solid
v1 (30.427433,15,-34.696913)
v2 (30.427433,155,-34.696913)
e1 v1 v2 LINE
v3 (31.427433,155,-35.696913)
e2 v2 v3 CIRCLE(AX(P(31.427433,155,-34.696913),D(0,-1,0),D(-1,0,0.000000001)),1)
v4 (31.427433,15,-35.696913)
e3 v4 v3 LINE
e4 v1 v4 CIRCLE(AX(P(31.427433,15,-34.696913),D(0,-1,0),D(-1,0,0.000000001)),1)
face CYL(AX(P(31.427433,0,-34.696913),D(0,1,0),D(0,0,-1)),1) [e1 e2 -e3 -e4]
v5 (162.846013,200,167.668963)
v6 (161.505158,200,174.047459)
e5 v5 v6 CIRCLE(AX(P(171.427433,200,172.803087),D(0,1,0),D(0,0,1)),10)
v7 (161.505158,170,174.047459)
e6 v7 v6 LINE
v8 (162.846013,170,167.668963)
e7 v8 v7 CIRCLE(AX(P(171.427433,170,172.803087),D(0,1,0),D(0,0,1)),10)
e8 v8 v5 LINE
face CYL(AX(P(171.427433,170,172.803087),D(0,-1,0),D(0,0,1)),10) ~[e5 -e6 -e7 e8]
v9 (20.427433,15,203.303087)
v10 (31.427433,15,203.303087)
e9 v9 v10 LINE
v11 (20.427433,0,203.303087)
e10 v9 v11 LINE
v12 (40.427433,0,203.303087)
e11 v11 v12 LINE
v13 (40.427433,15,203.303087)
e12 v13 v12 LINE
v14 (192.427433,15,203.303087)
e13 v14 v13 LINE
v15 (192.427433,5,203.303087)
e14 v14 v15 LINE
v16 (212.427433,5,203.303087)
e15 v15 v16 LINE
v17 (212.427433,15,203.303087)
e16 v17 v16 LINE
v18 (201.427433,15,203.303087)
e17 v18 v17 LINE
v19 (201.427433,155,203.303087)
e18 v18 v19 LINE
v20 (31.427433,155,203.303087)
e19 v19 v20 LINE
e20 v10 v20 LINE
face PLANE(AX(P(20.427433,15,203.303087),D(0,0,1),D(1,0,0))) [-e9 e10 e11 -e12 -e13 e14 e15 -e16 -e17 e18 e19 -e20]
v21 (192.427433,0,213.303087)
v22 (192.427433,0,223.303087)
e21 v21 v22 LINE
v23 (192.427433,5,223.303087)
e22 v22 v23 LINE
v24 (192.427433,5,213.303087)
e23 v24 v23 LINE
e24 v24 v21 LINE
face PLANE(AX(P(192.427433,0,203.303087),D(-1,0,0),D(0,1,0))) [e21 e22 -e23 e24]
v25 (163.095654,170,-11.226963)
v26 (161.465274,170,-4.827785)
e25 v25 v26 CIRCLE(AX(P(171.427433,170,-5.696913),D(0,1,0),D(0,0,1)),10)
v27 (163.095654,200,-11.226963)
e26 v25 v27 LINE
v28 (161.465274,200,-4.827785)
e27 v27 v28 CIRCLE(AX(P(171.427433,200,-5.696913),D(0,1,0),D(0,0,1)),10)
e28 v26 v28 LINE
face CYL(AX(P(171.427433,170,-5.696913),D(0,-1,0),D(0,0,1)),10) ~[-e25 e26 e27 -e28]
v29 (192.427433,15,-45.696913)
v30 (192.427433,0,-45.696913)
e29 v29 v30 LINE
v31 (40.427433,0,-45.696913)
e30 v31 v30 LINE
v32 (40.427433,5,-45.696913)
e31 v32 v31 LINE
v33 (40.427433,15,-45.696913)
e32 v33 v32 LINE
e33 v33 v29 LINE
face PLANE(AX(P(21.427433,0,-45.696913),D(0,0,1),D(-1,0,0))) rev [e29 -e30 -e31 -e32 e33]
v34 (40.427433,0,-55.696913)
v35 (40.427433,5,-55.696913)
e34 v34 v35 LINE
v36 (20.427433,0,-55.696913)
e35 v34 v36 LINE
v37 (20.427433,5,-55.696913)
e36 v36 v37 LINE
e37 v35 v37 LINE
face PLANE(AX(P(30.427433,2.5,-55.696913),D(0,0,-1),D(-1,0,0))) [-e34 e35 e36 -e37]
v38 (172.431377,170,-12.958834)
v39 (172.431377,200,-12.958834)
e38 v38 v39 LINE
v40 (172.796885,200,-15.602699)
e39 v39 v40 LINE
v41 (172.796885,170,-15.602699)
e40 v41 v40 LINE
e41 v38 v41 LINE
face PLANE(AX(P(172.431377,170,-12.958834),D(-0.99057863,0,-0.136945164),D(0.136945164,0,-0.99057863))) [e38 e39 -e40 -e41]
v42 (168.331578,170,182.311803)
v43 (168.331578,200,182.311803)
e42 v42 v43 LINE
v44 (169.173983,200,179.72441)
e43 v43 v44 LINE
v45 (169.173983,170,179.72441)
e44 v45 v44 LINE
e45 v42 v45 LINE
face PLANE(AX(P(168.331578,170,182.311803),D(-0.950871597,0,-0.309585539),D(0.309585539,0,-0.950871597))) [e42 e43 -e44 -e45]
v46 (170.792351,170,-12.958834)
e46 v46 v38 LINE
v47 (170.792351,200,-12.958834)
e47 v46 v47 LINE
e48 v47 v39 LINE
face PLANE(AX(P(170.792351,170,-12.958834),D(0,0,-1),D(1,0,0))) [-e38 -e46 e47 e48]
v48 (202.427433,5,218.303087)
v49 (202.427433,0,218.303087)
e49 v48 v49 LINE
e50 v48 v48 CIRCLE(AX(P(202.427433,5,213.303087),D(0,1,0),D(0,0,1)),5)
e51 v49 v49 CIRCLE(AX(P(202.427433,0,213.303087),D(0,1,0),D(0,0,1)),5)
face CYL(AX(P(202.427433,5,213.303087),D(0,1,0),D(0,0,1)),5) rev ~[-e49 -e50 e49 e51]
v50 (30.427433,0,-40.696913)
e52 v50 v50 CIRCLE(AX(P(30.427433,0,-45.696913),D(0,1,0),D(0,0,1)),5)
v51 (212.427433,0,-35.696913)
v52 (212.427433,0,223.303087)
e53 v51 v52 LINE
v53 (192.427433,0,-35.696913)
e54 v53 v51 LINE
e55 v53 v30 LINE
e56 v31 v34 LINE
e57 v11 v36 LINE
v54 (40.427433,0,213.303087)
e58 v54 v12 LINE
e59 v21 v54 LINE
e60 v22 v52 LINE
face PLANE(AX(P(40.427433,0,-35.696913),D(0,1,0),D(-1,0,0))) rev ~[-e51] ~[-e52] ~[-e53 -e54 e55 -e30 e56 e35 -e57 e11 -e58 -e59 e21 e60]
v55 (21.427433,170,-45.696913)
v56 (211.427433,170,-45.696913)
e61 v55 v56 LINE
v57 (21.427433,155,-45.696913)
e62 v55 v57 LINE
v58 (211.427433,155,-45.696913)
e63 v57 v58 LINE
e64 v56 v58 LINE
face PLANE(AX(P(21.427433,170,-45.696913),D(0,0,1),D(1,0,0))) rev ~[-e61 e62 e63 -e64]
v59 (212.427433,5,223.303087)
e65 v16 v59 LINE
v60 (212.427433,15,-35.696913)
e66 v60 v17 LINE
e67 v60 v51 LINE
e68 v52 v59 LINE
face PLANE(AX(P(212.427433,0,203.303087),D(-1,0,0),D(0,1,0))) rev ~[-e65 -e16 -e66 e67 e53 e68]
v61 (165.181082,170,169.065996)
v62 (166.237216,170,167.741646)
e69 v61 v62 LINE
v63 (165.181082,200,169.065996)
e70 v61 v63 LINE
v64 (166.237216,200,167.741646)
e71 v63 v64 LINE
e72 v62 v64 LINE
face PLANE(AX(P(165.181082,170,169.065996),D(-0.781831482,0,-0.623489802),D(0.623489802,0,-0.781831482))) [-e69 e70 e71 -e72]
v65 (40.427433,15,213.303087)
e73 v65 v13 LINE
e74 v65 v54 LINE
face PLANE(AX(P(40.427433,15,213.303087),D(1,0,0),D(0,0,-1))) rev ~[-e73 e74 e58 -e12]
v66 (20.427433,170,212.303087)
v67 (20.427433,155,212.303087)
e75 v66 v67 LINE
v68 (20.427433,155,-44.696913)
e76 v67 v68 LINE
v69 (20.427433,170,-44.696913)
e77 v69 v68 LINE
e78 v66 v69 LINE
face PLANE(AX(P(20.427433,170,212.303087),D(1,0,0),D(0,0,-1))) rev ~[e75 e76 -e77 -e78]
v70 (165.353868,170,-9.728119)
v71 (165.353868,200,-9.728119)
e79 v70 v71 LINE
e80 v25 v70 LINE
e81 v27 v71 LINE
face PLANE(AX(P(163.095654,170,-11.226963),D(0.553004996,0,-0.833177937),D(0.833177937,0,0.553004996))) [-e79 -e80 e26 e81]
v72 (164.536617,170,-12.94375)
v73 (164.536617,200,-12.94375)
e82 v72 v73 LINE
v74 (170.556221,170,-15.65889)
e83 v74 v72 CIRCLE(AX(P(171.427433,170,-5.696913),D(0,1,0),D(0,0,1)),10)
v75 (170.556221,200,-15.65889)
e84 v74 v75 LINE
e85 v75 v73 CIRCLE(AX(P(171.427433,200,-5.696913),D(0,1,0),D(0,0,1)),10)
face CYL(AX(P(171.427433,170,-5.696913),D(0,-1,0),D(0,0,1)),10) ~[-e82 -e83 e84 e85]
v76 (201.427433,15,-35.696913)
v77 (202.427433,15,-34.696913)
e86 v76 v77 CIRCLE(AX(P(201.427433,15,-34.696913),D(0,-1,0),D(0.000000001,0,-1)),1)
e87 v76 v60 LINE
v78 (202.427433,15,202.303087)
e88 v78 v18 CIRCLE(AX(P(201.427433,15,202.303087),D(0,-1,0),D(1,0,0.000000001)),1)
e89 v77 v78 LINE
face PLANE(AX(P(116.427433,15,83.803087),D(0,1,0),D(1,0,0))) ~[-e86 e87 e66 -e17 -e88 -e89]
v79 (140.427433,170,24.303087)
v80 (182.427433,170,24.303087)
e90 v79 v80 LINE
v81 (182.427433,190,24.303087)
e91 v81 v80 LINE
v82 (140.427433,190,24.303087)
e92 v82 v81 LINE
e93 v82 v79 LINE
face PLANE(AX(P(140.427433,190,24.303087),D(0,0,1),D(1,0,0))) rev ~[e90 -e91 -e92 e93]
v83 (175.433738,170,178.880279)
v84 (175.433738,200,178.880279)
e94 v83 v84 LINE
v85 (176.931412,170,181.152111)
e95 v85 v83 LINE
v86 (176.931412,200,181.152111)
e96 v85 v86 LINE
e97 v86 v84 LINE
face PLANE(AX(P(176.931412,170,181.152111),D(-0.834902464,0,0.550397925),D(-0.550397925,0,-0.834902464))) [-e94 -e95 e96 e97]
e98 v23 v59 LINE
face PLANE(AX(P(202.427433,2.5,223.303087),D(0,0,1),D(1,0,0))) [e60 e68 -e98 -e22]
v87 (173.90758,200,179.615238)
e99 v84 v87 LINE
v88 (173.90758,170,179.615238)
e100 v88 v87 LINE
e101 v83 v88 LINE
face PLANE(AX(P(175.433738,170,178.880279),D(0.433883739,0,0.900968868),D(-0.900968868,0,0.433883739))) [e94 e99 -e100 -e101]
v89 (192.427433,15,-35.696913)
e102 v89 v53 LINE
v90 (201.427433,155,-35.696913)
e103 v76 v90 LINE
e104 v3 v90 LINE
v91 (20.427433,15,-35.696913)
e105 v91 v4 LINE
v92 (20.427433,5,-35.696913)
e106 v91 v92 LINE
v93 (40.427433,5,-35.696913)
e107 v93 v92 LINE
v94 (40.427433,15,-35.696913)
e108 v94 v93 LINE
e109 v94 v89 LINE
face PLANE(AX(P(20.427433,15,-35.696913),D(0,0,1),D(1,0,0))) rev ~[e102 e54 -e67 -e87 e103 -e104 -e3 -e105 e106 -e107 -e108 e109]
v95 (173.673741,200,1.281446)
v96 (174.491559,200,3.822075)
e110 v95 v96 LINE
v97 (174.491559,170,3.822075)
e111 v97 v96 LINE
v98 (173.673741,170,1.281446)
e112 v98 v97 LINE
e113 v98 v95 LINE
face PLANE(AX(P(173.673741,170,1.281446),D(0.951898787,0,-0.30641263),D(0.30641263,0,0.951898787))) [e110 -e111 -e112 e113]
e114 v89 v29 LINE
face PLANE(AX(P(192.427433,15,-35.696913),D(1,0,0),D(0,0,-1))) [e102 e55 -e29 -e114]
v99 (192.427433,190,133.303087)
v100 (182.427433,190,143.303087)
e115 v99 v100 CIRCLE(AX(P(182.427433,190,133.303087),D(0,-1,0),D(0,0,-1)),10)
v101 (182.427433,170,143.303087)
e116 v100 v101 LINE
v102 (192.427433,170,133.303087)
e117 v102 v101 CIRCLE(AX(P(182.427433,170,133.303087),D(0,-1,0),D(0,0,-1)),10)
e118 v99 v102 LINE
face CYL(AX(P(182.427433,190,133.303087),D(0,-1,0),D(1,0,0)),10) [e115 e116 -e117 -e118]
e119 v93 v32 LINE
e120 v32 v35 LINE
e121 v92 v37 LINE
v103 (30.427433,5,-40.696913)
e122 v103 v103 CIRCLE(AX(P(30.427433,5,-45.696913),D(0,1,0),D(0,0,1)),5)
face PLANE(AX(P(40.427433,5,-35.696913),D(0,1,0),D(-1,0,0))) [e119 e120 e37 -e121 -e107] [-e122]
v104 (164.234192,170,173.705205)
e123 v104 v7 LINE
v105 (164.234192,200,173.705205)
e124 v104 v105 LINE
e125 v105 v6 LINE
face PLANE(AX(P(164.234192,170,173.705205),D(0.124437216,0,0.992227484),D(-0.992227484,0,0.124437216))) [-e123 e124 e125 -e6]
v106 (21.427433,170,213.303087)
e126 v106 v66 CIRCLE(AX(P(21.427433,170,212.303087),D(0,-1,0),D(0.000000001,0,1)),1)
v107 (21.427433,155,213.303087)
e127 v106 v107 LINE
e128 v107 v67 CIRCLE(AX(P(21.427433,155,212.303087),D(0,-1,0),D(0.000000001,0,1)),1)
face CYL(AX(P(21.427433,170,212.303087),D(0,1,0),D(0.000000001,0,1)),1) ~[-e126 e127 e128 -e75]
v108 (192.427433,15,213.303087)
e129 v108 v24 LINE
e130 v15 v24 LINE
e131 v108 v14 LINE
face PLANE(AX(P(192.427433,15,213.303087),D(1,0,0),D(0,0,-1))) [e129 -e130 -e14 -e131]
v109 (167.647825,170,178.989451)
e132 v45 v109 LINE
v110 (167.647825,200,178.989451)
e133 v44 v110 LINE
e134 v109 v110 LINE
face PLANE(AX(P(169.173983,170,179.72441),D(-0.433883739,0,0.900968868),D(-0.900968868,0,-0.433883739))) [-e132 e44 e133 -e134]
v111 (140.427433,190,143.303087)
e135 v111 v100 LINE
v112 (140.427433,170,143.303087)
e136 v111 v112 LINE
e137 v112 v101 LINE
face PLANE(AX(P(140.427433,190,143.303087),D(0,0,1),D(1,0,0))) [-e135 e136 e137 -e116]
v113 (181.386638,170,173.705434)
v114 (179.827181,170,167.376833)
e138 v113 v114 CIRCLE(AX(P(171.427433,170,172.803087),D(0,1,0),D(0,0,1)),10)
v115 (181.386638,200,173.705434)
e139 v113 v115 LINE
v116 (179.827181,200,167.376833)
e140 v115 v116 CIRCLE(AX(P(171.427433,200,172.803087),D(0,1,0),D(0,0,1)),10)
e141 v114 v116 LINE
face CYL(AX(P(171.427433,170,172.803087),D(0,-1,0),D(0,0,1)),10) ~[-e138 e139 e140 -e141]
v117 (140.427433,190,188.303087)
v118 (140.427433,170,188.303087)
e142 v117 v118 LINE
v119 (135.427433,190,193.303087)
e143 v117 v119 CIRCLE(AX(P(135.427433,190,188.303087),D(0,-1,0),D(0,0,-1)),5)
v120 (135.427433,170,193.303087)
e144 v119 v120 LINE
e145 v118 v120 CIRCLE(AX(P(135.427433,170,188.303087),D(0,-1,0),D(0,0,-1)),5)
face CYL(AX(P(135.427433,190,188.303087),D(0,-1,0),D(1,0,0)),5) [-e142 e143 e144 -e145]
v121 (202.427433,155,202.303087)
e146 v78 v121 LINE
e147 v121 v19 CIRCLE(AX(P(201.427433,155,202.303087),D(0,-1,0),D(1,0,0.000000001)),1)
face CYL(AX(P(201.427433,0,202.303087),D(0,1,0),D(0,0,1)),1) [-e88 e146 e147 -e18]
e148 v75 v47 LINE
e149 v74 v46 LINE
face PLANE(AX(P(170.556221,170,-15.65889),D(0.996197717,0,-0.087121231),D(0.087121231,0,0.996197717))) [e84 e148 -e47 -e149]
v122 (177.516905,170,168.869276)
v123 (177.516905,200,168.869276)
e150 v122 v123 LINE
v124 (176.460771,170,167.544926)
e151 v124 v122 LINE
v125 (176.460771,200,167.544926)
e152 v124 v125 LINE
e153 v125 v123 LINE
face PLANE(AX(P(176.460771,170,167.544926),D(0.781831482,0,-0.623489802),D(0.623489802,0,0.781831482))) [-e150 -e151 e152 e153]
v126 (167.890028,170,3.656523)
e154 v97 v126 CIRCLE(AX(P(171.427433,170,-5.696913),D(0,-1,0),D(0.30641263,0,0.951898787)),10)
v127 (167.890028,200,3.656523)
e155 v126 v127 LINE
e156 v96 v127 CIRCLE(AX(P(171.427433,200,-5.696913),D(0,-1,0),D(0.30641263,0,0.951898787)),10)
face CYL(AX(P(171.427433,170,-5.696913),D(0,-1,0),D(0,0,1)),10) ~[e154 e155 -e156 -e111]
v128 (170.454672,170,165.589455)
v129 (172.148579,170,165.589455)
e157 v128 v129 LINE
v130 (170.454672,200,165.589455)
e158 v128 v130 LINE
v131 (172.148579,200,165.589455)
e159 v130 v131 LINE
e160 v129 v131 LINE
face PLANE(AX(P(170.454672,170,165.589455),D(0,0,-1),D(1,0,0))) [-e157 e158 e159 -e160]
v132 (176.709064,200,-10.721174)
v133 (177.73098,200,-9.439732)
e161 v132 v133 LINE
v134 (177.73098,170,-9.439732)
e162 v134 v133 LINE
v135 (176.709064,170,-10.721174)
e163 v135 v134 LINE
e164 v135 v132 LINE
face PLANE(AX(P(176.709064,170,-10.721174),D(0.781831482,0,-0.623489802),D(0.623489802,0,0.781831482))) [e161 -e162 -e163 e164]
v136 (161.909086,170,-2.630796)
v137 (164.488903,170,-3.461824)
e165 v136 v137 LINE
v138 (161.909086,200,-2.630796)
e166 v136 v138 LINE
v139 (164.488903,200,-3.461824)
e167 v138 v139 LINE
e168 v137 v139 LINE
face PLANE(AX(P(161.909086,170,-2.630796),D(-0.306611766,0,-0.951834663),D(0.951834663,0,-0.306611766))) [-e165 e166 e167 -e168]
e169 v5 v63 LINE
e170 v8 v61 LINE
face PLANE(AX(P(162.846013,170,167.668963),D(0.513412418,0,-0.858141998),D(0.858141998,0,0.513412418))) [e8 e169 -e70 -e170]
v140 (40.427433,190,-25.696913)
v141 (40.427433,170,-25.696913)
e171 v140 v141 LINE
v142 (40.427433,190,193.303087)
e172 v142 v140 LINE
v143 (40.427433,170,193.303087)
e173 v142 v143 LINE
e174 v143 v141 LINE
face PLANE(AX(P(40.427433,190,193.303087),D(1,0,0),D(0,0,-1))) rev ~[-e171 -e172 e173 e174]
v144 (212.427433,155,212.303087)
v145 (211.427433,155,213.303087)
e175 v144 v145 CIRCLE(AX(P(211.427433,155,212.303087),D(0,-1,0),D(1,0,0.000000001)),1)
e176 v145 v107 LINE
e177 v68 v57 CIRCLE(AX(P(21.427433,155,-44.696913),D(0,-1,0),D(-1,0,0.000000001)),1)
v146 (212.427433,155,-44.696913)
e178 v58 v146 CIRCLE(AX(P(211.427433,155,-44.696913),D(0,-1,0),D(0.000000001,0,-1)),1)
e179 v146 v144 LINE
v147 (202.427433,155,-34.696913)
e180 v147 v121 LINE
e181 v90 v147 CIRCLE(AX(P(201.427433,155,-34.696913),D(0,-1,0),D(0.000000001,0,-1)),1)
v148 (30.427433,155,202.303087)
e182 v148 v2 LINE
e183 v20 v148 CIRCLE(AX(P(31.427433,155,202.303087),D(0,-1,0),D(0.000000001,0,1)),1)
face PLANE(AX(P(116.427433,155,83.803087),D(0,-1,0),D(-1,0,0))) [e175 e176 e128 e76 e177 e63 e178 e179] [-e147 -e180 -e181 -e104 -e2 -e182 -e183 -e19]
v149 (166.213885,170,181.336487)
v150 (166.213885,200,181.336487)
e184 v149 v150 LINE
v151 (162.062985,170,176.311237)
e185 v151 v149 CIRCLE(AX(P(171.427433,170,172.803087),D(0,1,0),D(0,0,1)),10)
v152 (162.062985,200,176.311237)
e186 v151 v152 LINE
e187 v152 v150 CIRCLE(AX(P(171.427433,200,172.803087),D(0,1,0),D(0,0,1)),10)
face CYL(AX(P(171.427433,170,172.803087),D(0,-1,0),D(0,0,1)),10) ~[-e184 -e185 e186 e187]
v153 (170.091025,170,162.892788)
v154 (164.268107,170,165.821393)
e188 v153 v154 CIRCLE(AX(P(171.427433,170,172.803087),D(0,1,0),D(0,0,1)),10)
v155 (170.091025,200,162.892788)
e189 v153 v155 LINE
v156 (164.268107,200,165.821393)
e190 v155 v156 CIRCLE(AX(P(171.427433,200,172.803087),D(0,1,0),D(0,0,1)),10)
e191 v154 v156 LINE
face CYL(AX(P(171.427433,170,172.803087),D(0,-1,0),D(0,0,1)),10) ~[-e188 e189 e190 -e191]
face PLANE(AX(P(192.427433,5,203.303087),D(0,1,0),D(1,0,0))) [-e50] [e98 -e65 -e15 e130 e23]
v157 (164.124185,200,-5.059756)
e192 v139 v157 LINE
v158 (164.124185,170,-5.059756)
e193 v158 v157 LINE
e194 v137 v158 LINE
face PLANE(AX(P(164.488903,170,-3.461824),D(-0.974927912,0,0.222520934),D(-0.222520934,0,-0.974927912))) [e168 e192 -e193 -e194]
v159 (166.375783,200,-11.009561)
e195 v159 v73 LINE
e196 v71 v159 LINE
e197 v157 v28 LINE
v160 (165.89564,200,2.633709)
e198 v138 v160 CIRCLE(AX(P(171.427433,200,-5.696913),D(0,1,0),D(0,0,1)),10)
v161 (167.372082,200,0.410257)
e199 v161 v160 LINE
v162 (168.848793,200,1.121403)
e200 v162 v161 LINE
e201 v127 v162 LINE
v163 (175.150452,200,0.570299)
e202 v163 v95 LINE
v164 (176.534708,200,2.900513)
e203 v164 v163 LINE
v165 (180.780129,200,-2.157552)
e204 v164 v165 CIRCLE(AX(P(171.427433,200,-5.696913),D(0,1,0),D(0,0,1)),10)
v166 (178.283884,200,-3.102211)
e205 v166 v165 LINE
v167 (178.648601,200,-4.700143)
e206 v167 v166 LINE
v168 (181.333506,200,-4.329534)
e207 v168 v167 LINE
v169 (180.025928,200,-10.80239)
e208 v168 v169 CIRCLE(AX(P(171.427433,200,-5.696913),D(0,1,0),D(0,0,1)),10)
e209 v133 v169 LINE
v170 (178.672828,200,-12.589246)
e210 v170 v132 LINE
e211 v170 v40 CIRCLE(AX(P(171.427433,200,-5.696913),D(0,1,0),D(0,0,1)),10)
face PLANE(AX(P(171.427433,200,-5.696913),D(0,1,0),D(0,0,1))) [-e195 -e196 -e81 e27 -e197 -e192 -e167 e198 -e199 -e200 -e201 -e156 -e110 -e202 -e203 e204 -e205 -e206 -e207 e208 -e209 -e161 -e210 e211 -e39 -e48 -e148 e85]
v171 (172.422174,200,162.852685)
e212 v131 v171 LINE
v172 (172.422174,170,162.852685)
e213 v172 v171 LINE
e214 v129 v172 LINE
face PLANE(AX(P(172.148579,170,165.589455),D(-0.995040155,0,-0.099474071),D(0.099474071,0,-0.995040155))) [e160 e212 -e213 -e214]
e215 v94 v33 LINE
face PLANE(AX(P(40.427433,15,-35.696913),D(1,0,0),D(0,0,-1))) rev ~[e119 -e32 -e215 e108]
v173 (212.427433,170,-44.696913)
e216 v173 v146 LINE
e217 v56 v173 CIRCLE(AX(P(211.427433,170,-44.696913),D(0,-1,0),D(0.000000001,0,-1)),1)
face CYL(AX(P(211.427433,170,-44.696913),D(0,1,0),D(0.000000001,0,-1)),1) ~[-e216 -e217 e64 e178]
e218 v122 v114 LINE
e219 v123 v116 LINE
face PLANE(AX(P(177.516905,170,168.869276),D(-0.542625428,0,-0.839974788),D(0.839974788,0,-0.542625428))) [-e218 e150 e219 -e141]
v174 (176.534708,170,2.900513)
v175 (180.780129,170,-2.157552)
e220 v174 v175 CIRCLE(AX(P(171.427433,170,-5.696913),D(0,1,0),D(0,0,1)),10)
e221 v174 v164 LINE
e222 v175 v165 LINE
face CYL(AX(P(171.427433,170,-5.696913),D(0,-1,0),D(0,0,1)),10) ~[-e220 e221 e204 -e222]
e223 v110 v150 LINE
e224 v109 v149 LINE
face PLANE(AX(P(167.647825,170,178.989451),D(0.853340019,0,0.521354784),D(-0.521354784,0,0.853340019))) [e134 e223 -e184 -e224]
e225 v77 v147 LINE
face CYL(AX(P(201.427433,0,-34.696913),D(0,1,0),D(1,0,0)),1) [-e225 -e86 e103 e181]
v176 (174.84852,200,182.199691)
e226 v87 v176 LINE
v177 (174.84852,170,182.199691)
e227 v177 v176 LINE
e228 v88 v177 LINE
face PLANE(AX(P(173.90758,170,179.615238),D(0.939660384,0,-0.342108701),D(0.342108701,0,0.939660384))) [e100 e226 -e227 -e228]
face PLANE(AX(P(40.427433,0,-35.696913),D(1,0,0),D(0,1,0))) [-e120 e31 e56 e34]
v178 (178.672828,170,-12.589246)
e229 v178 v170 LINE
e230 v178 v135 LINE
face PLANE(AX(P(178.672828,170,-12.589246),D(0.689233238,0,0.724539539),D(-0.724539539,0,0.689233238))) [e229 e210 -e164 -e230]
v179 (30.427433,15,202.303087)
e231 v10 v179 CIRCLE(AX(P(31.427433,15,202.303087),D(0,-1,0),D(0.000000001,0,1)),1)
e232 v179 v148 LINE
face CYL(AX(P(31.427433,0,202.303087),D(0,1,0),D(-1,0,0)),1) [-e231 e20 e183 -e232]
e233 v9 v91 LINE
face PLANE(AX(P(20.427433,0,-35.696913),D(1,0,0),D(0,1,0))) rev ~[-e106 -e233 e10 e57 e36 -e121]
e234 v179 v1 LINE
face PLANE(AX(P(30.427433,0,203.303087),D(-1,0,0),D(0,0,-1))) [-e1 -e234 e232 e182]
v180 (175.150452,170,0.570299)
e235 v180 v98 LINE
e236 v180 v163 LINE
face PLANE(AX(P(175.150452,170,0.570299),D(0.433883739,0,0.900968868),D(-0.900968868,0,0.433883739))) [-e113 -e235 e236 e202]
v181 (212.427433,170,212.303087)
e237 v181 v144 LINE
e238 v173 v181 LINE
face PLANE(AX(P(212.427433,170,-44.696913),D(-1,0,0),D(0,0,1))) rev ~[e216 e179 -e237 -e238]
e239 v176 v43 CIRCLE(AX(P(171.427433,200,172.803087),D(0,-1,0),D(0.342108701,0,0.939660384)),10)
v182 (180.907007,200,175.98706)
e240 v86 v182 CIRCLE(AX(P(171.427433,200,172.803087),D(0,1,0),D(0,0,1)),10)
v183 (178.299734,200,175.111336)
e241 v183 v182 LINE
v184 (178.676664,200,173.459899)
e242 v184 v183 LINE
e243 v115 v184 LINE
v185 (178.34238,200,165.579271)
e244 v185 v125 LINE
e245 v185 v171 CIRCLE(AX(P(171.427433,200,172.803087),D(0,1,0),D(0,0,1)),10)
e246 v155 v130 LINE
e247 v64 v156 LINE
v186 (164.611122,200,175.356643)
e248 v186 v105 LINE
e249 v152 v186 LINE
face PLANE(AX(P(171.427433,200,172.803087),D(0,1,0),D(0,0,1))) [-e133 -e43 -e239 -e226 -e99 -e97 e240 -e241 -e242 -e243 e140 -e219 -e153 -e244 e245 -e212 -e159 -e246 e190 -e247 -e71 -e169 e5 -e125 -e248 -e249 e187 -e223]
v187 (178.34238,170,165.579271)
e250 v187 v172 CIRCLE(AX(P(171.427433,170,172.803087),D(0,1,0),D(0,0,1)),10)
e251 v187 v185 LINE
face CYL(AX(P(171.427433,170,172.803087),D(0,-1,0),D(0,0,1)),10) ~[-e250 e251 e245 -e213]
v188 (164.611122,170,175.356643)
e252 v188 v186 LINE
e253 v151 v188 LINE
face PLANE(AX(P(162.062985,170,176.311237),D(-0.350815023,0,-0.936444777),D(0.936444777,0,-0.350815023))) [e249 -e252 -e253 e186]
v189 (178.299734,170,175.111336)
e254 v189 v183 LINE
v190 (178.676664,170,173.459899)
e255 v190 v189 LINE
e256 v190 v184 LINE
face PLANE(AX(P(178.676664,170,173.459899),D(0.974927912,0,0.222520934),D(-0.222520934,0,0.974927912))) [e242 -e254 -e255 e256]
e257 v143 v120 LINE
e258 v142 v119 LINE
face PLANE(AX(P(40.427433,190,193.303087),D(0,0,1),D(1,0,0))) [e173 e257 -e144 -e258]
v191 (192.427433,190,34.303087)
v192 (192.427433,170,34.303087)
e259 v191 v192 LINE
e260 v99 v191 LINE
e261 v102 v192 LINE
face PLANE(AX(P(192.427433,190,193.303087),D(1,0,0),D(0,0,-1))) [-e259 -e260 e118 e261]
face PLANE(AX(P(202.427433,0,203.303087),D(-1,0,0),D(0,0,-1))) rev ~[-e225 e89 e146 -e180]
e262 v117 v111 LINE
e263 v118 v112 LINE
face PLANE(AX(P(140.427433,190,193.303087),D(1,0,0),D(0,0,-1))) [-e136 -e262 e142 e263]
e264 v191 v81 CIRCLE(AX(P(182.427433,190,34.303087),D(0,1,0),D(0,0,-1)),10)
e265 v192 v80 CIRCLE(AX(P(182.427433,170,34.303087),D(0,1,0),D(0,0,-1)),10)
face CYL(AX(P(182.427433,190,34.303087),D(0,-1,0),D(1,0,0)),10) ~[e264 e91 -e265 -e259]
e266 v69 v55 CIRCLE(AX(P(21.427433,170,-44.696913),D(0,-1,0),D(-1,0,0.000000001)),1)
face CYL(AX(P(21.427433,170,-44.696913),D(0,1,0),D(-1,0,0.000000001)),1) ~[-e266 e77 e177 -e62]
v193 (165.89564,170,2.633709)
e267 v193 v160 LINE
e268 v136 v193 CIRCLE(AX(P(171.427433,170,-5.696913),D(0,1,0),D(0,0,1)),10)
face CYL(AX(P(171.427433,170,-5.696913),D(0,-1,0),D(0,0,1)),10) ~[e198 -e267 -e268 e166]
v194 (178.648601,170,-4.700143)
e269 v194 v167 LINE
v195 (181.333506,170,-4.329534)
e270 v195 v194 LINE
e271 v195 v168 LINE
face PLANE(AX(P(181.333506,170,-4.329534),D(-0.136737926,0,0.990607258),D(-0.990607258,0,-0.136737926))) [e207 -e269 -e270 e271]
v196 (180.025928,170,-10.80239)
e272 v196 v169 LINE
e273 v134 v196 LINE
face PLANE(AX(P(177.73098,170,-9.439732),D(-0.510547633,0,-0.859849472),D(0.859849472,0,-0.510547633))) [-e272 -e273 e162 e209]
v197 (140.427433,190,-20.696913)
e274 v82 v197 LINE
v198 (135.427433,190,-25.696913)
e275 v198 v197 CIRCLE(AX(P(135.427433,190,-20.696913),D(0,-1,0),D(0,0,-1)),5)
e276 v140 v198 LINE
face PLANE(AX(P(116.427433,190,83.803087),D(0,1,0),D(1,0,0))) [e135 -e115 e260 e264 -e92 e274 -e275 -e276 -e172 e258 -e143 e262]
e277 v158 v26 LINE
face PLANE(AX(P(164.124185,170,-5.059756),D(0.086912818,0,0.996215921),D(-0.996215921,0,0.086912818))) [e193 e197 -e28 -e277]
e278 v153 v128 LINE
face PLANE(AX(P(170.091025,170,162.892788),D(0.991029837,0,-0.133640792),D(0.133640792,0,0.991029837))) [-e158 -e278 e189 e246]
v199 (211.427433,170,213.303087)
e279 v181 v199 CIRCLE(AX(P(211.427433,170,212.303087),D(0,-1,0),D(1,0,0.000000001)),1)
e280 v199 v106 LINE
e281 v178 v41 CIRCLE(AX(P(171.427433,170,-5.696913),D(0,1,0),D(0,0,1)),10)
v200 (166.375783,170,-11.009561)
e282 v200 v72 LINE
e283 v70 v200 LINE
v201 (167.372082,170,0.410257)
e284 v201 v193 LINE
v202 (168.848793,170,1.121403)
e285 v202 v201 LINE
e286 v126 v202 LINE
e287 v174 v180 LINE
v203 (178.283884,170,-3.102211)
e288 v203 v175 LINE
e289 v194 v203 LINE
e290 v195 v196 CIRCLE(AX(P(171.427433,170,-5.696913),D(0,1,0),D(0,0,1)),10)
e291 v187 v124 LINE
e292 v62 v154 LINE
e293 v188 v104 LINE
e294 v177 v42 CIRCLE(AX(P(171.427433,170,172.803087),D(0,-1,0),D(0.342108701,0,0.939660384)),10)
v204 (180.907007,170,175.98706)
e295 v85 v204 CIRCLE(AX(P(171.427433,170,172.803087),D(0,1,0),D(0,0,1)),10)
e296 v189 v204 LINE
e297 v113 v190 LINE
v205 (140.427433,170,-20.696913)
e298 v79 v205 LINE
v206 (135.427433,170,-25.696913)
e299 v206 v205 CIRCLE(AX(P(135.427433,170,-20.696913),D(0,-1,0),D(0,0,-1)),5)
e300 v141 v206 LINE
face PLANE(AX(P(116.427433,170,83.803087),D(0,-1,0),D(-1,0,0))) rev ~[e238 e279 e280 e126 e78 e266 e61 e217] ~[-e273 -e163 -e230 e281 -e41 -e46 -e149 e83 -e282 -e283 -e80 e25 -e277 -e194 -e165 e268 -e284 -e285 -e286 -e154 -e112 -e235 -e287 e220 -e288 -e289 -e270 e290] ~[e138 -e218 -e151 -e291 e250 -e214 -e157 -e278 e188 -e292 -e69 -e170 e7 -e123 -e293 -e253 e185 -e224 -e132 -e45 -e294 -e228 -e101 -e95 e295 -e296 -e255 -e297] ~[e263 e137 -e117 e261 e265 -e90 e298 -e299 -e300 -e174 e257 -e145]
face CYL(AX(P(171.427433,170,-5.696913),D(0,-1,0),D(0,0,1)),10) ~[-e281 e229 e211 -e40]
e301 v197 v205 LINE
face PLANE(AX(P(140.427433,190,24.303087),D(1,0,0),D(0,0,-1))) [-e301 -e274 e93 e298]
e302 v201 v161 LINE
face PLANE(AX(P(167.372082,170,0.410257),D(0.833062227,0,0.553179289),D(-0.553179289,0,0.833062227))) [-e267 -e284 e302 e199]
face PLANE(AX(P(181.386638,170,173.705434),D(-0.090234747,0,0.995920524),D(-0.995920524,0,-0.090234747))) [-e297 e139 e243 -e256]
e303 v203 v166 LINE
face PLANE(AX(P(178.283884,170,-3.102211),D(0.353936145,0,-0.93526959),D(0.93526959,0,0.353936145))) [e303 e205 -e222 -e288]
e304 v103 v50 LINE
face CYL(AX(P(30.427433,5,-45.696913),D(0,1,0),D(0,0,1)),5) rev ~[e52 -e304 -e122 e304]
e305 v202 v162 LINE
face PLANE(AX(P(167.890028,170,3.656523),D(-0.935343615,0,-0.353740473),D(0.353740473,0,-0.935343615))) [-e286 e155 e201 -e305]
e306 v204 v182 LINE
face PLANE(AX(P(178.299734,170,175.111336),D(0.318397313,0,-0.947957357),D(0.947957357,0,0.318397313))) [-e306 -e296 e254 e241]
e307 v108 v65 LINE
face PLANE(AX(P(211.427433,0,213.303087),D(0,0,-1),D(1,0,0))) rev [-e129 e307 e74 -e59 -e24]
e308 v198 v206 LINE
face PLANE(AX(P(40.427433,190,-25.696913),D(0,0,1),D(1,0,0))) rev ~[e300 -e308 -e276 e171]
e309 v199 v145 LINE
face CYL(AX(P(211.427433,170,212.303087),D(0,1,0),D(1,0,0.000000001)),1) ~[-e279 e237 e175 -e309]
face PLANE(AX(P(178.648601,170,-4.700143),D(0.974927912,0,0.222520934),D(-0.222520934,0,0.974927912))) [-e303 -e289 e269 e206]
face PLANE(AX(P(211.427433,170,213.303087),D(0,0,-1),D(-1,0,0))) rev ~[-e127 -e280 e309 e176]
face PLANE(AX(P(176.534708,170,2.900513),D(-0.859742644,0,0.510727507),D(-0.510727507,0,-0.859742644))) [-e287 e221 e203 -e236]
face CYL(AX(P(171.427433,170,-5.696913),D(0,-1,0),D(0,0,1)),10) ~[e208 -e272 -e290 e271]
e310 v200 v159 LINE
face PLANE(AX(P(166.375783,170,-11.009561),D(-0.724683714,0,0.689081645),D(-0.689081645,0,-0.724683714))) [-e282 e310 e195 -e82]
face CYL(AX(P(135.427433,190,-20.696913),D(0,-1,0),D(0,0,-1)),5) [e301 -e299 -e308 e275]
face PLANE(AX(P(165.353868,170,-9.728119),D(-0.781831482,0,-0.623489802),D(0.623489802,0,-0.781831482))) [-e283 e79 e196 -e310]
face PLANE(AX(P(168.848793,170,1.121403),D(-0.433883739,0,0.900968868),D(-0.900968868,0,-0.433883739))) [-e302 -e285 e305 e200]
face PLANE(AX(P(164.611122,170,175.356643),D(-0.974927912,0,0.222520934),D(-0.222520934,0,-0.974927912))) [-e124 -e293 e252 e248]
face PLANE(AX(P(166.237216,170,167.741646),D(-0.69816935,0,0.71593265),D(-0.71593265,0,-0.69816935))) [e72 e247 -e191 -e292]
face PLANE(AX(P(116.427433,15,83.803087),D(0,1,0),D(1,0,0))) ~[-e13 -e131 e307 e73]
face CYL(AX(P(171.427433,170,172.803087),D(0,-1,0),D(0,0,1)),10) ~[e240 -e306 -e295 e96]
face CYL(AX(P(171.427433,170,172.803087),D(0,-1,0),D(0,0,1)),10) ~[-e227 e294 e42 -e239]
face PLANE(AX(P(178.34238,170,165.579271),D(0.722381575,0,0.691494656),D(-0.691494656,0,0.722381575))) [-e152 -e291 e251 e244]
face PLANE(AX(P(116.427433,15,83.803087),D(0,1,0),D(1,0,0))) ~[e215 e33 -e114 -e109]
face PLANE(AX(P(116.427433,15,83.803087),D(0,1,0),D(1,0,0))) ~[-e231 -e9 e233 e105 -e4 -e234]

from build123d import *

# Parameters (mm, degrees)
SKETCH1_W           = 172
SKETCH1_H           = 239
BOSS_EXTRUDE1_DEPTH = 190
SKETCH2_W           = 172
SKETCH2_H           = 239
SKETCH2_W_2         = 152
SKETCH2_H_2         = 219
CUT_EXTRUDE1_DEPTH  = 20
SKETCH3_W           = 52
SKETCH3_H           = 50
CUT_EXTRUDE2_DEPTH  = 20
FILLET1_R           = 10
FILLET2_R           = 10
FILLET3_R           = 5
FILLET4_R           = 5
FILLET6_R           = 1
FILLET7_R           = 1
FILLET8_R           = 1
FILLET9_R           = 1
SKETCH4_R           = 10
BOSS_EXTRUDE4_DEPTH = 30
CUT_EXTRUDE8_START  = -30
CUT_EXTRUDE8_DEPTH  = 30
CUT_EXTRUDE9_START  = -30
CUT_EXTRUDE9_DEPTH  = 30
BOSS_EXTRUDE5_DEPTH = 15
SKETCH11_W          = 20
SKETCH11_H          = 10
CUT_EXTRUDE11_DEPTH = 15
SKETCH12_W          = 20
SKETCH12_H          = 5
BOSS_EXTRUDE6_DEPTH = 20
SKETCH13_R          = 5
CUT_EXTRUDE12_DEPTH = 20
SKETCH14_W          = 20
SKETCH14_H          = 5
BOSS_EXTRUDE7_DEPTH = 20
SKETCH15_R          = 5
CUT_EXTRUDE13_DEPTH = 20


with BuildPart() as part:
    # Sketch1 → Boss-Extrude1 (new body)
    with BuildSketch(Plane(origin=(0, 0, 0), x_dir=(1, 0, 0), z_dir=(0, 1, 0))):
        with Locations((116.427433091, -83.803086818)):
            Rectangle(SKETCH1_W, SKETCH1_H)
    extrude(amount=BOSS_EXTRUDE1_DEPTH)

    # Sketch2 → Cut-Extrude1 (cut)
    with BuildSketch(Plane(origin=(0, 190, 0), x_dir=(1, 0, 0), z_dir=(0, 1, 0))):
        with Locations((116.427433091, -83.803086818)):
            Rectangle(SKETCH2_W, SKETCH2_H)
        with Locations((116.427433091, -83.803086818)):
            Rectangle(SKETCH2_W_2, SKETCH2_H_2, mode=Mode.SUBTRACT)
    extrude(amount=-CUT_EXTRUDE1_DEPTH, mode=Mode.SUBTRACT)

    # Sketch3 → Cut-Extrude2 (cut)
    with BuildSketch(Plane(origin=(0, 190, 0), x_dir=(1, 0, 0), z_dir=(0, 1, 0))):
        with Locations((166.427433091, 0.696913182)):
            Rectangle(SKETCH3_W, SKETCH3_H)
        with Locations((166.427433091, -168.303086818)):
            Rectangle(SKETCH3_W, SKETCH3_H)
    extrude(amount=-CUT_EXTRUDE2_DEPTH, mode=Mode.SUBTRACT)

    # Fillet1
    fillet1_edges = [part.edges().sort_by_distance(p)[0] for p in [
        (192.427433091, 180, 24.303086818),
    ]]
    fillet(fillet1_edges, radius=FILLET1_R)

    # Fillet2
    fillet2_edges = [part.edges().sort_by_distance(p)[0] for p in [
        (192.427433091, 180, 143.303086818),
    ]]
    fillet(fillet2_edges, radius=FILLET2_R)

    # Fillet3
    fillet3_edges = [part.edges().sort_by_distance(p)[0] for p in [
        (140.427433091, 180, 193.303086818),
    ]]
    fillet(fillet3_edges, radius=FILLET3_R)

    # Fillet4
    fillet4_edges = [part.edges().sort_by_distance(p)[0] for p in [
        (140.427433091, 180, -25.696913182),
    ]]
    fillet(fillet4_edges, radius=FILLET4_R)

    # Fillet6
    fillet6_edges = [part.edges().sort_by_distance(p)[0] for p in [
        (30.427433091, 85, 203.303086818),
    ]]
    fillet(fillet6_edges, radius=FILLET6_R)

    # Fillet7
    fillet7_edges = [part.edges().sort_by_distance(p)[0] for p in [
        (202.427433091, 85, 203.303086818),
    ]]
    fillet(fillet7_edges, radius=FILLET7_R)

    # Fillet8
    fillet8_edges = [part.edges().sort_by_distance(p)[0] for p in [
        (202.427433091, 85, -35.696913182),
    ]]
    fillet(fillet8_edges, radius=FILLET8_R)

    # Fillet9
    fillet9_edges = [part.edges().sort_by_distance(p)[0] for p in [
        (30.427433091, 85, -35.696913182),
    ]]
    fillet(fillet9_edges, radius=FILLET9_R)

    # Sketch4 → Boss-Extrude4 (add)
    with BuildSketch(Plane(origin=(0, 170, 0), x_dir=(1, 0, 0), z_dir=(0, 1, 0))):
        with Locations(Location((171.427433091, -172.803086818, 0), (0, 0, 270))):
            Circle(SKETCH4_R)
        with Locations(Location((171.427433091, 5.696913182, 0), (0, 0, 270))):
            Circle(SKETCH4_R)
    extrude(amount=BOSS_EXTRUDE4_DEPTH)

    # Sketch7 → Cut-Extrude8 (cut)
    with BuildSketch(Plane(origin=(0, 200, 0), x_dir=(1, 0, 0), z_dir=(0, 1, 0)).offset(CUT_EXTRUDE8_START)):
        with BuildLine():
            Line((166.237215884, -167.741646234), (164.26810659, -165.821393323))
            ThreePointArc((164.26810659, -165.821393323), (163.503030714, -166.703591185), (162.846013112, -167.668962633))
            Line((162.846013112, -167.668962633), (165.181081901, -169.06599636))
            Line((165.181081901, -169.06599636), (166.237215884, -167.741646234))
        make_face()
        with BuildLine():
            Line((164.234191998, -173.705205444), (161.505158254, -174.047458976))
            ThreePointArc((161.505158254, -174.047458976), (161.71787131, -175.195660752), (162.062985325, -176.31123705))
            Line((162.062985325, -176.31123705), (164.611121852, -175.35664304))
            Line((164.611121852, -175.35664304), (164.234191998, -173.705205444))
        make_face()
        with BuildLine():
            Line((167.647825369, -178.989450929), (166.213885247, -181.336487013))
            ThreePointArc((166.213885247, -181.336487013), (167.244209965, -181.886073347), (168.331577706, -182.31180279))
            Line((168.331577706, -182.31180279), (169.173983194, -179.724409801))
            Line((169.173983194, -179.724409801), (167.647825369, -178.989450929))
        make_face()
        with BuildLine():
            ThreePointArc((174.848520104, -182.199690654), (175.920600956, -181.736811827), (176.931412335, -181.15211146))
            Line((176.931412335, -181.15211146), (175.433738269, -178.880279187))
            Line((175.433738269, -178.880279187), (173.907580445, -179.61523806))
            Line((173.907580445, -179.61523806), (174.848520104, -182.199690654))
        make_face()
        with BuildLine():
            ThreePointArc((180.907006662, -175.987059951), (181.2135449, -174.86027316), (181.386638332, -173.705434286))
            Line((181.386638332, -173.705434286), (178.676663832, -173.459898767))
            Line((178.676663832, -173.459898767), (178.299733977, -175.111336363))
            Line((178.299733977, -175.111336363), (180.907006662, -175.987059951))
        make_face()
        with BuildLine():
            ThreePointArc((179.827180973, -167.376832537), (179.137347052, -166.434631219), (178.342379652, -165.579271064))
            Line((178.342379652, -165.579271064), (176.460770789, -167.544925553))
            Line((176.460770789, -167.544925553), (177.516904772, -168.869275679))
            Line((177.516904772, -168.869275679), (179.827180973, -167.376832537))
        make_face()
        with BuildLine():
            ThreePointArc((172.422173805, -162.852685273), (171.255426737, -162.804566237), (170.091025172, -162.892788443))
            Line((170.091025172, -162.892788443), (170.454671798, -165.589455018))
            Line((170.454671798, -165.589455018), (172.148579189, -165.589455018))
            Line((172.148579189, -165.589455018), (172.422173805, -162.852685273))
        make_face()
    extrude(amount=CUT_EXTRUDE8_DEPTH, mode=Mode.SUBTRACT)

    # Sketch8 → Cut-Extrude9 (cut)
    with BuildSketch(Plane(origin=(0, 200, 0), x_dir=(1, 0, 0), z_dir=(0, 1, 0)).offset(CUT_EXTRUDE9_START)):
        with BuildLine():
            Line((166.375783325, 11.009561317), (164.536616638, 12.943750328))
            ThreePointArc((164.536616638, 12.943750328), (163.767883793, 12.125855906), (163.095653722, 11.226963141))
            Line((163.095653722, 11.226963141), (165.353867519, 9.728119429))
            Line((165.353867519, 9.728119429), (166.375783325, 11.009561317))
        make_face()
        with BuildLine():
            ThreePointArc((172.796884735, 15.60269948), (171.678132038, 15.69377019), (170.55622078, 15.658890351))
            Line((170.55622078, 15.658890351), (170.792350852, 12.95883394))
            Line((170.792350852, 12.95883394), (172.431376546, 12.95883394))
            Line((172.431376546, 12.95883394), (172.796884735, 15.60269948))
        make_face()
        with BuildLine():
            ThreePointArc((180.025927812, 10.802389509), (179.399598862, 11.733847248), (178.672828478, 12.589245565))
            Line((178.672828478, 12.589245565), (176.709064064, 10.721174005))
            Line((176.709064064, 10.721174005), (177.730979869, 9.439732117))
            Line((177.730979869, 9.439732117), (180.025927812, 10.802389509))
        make_face()
        with BuildLine():
            ThreePointArc((180.780128986, 2.15755173), (181.117862258, 3.227989823), (181.33350567, 4.329533917))
            Line((181.33350567, 4.329533917), (178.648601427, 4.700143193))
            Line((178.648601427, 4.700143193), (178.283883899, 3.102211295))
            Line((178.283883899, 3.102211295), (180.780128986, 2.15755173))
        make_face()
        with BuildLine():
            Line((164.124185412, 5.059756289), (161.465273877, 4.827784996))
            ThreePointArc((161.465273877, 4.827784996), (161.625432396, 3.716816625), (161.909086465, 2.63079552))
            Line((161.909086465, 2.63079552), (164.48890294, 3.461824392))
            Line((164.48890294, 3.461824392), (164.124185412, 5.059756289))
        make_face()
        with BuildLine():
            Line((167.37208196, -0.410256602), (165.895640195, -2.633709085))
            ThreePointArc((165.895640195, -2.633709085), (166.864087446, -3.201169563), (167.890028356, -3.656522965))
            Line((167.890028356, -3.656522965), (168.848793084, -1.121403199))
            Line((168.848793084, -1.121403199), (167.37208196, -0.410256602))
        make_face()
        with BuildLine():
            ThreePointArc((174.491559391, -3.822074685), (175.539034842, -3.418717956), (176.534708162, -2.900513255))
            Line((176.534708162, -2.900513255), (175.150451748, -0.570299486))
            Line((175.150451748, -0.570299486), (173.673740624, -1.281446083))
            Line((173.673740624, -1.281446083), (174.491559391, -3.822074685))
        make_face()
    extrude(amount=CUT_EXTRUDE9_DEPTH, mode=Mode.SUBTRACT)

    # Sketch9 → Boss-Extrude5 (add)
    with BuildSketch(Plane(origin=(0, 170, 0), x_dir=(1, 0, 0), z_dir=(0, 1, 0))):
        with BuildLine():
            Line((21.427433091, 45.696913182), (211.427433091, 45.696913182))
            ThreePointArc((211.427433091, 45.696913182), (212.134539872, 45.404019963), (212.427433091, 44.696913182))
            Line((212.427433091, 44.696913182), (212.427433091, -212.303086818))
            ThreePointArc((212.427433091, -212.303086818), (212.134539872, -213.010193599), (211.427433091, -213.303086818))
            Line((211.427433091, -213.303086818), (21.427433091, -213.303086818))
            ThreePointArc((21.427433091, -213.303086818), (20.720326309, -213.010193599), (20.427433091, -212.303086818))
            Line((20.427433091, -212.303086818), (20.427433091, 44.696913182))
            ThreePointArc((20.427433091, 44.696913182), (20.720326309, 45.404019963), (21.427433091, 45.696913182))
        make_face()
        with BuildLine():
            Line((31.427433091, 35.696913182), (201.427433091, 35.696913182))
            ThreePointArc((201.427433091, 35.696913182), (202.134539872, 35.404019963), (202.427433091, 34.696913182))
            Line((202.427433091, 34.696913182), (202.427433091, -202.303086818))
            ThreePointArc((202.427433091, -202.303086818), (202.134539872, -203.010193599), (201.427433091, -203.303086818))
            Line((201.427433091, -203.303086818), (31.427433091, -203.303086818))
            ThreePointArc((31.427433091, -203.303086818), (30.720326309, -203.010193599), (30.427433091, -202.303086818))
            Line((30.427433091, -202.303086818), (30.427433091, 34.696913182))
            ThreePointArc((30.427433091, 34.696913182), (30.720326309, 35.404019963), (31.427433091, 35.696913182))
        make_face(mode=Mode.SUBTRACT)
    boss_extrude5 = extrude(amount=-BOSS_EXTRUDE5_DEPTH)

    # Mirror2: Boss-Extrude5 across plane
    add(boss_extrude5.mirror(Plane.ZX.offset(85)))

    # Sketch11 → Cut-Extrude11 (cut)
    with BuildSketch(Plane(origin=(0, 15, 0), x_dir=(1, 0, 0), z_dir=(0, 1, 0))):
        with Locations((30.427433091, -208.303086818)):
            Rectangle(SKETCH11_W, SKETCH11_H)
        with Locations((202.427433091, -208.303086818)):
            Rectangle(SKETCH11_W, SKETCH11_H)
        with Locations((202.427433091, 40.696913182)):
            Rectangle(SKETCH11_W, SKETCH11_H)
        with Locations((30.427433091, 40.696913182)):
            Rectangle(SKETCH11_W, SKETCH11_H)
    extrude(amount=-CUT_EXTRUDE11_DEPTH, mode=Mode.SUBTRACT)

    # Sketch12 → Boss-Extrude6 (add)
    with BuildSketch(Plane.XY.offset(203.303086818)):
        with Locations((202.427433091, 2.5)):
            Rectangle(SKETCH12_W, SKETCH12_H)
    extrude(amount=BOSS_EXTRUDE6_DEPTH)

    # Sketch13 → Cut-Extrude12 (cut)
    with BuildSketch(Plane(origin=(0, 5, 0), x_dir=(1, 0, 0), z_dir=(0, 1, 0))):
        with Locations(Location((202.427433091, -213.303086818, 0), (0, 0, 270))):
            Circle(SKETCH13_R)
    extrude(amount=-CUT_EXTRUDE12_DEPTH, mode=Mode.SUBTRACT)

    # Sketch14 → Boss-Extrude7 (add)
    with BuildSketch(Plane(origin=(0, 0, -35.696913182), x_dir=(-1, 0, 0), z_dir=(0, 0, -1))):
        with Locations((-30.427433091, 2.5)):
            Rectangle(SKETCH14_W, SKETCH14_H)
    extrude(amount=BOSS_EXTRUDE7_DEPTH)

    # Sketch15 → Cut-Extrude13 (cut)
    with BuildSketch(Plane(origin=(0, 5, 0), x_dir=(1, 0, 0), z_dir=(0, 1, 0))):
        with Locations(Location((30.427433091, 45.696913182, 0), (0, 0, 270))):
            Circle(SKETCH15_R)
    extrude(amount=-CUT_EXTRUDE13_DEPTH, mode=Mode.SUBTRACT)


solid = part.part
